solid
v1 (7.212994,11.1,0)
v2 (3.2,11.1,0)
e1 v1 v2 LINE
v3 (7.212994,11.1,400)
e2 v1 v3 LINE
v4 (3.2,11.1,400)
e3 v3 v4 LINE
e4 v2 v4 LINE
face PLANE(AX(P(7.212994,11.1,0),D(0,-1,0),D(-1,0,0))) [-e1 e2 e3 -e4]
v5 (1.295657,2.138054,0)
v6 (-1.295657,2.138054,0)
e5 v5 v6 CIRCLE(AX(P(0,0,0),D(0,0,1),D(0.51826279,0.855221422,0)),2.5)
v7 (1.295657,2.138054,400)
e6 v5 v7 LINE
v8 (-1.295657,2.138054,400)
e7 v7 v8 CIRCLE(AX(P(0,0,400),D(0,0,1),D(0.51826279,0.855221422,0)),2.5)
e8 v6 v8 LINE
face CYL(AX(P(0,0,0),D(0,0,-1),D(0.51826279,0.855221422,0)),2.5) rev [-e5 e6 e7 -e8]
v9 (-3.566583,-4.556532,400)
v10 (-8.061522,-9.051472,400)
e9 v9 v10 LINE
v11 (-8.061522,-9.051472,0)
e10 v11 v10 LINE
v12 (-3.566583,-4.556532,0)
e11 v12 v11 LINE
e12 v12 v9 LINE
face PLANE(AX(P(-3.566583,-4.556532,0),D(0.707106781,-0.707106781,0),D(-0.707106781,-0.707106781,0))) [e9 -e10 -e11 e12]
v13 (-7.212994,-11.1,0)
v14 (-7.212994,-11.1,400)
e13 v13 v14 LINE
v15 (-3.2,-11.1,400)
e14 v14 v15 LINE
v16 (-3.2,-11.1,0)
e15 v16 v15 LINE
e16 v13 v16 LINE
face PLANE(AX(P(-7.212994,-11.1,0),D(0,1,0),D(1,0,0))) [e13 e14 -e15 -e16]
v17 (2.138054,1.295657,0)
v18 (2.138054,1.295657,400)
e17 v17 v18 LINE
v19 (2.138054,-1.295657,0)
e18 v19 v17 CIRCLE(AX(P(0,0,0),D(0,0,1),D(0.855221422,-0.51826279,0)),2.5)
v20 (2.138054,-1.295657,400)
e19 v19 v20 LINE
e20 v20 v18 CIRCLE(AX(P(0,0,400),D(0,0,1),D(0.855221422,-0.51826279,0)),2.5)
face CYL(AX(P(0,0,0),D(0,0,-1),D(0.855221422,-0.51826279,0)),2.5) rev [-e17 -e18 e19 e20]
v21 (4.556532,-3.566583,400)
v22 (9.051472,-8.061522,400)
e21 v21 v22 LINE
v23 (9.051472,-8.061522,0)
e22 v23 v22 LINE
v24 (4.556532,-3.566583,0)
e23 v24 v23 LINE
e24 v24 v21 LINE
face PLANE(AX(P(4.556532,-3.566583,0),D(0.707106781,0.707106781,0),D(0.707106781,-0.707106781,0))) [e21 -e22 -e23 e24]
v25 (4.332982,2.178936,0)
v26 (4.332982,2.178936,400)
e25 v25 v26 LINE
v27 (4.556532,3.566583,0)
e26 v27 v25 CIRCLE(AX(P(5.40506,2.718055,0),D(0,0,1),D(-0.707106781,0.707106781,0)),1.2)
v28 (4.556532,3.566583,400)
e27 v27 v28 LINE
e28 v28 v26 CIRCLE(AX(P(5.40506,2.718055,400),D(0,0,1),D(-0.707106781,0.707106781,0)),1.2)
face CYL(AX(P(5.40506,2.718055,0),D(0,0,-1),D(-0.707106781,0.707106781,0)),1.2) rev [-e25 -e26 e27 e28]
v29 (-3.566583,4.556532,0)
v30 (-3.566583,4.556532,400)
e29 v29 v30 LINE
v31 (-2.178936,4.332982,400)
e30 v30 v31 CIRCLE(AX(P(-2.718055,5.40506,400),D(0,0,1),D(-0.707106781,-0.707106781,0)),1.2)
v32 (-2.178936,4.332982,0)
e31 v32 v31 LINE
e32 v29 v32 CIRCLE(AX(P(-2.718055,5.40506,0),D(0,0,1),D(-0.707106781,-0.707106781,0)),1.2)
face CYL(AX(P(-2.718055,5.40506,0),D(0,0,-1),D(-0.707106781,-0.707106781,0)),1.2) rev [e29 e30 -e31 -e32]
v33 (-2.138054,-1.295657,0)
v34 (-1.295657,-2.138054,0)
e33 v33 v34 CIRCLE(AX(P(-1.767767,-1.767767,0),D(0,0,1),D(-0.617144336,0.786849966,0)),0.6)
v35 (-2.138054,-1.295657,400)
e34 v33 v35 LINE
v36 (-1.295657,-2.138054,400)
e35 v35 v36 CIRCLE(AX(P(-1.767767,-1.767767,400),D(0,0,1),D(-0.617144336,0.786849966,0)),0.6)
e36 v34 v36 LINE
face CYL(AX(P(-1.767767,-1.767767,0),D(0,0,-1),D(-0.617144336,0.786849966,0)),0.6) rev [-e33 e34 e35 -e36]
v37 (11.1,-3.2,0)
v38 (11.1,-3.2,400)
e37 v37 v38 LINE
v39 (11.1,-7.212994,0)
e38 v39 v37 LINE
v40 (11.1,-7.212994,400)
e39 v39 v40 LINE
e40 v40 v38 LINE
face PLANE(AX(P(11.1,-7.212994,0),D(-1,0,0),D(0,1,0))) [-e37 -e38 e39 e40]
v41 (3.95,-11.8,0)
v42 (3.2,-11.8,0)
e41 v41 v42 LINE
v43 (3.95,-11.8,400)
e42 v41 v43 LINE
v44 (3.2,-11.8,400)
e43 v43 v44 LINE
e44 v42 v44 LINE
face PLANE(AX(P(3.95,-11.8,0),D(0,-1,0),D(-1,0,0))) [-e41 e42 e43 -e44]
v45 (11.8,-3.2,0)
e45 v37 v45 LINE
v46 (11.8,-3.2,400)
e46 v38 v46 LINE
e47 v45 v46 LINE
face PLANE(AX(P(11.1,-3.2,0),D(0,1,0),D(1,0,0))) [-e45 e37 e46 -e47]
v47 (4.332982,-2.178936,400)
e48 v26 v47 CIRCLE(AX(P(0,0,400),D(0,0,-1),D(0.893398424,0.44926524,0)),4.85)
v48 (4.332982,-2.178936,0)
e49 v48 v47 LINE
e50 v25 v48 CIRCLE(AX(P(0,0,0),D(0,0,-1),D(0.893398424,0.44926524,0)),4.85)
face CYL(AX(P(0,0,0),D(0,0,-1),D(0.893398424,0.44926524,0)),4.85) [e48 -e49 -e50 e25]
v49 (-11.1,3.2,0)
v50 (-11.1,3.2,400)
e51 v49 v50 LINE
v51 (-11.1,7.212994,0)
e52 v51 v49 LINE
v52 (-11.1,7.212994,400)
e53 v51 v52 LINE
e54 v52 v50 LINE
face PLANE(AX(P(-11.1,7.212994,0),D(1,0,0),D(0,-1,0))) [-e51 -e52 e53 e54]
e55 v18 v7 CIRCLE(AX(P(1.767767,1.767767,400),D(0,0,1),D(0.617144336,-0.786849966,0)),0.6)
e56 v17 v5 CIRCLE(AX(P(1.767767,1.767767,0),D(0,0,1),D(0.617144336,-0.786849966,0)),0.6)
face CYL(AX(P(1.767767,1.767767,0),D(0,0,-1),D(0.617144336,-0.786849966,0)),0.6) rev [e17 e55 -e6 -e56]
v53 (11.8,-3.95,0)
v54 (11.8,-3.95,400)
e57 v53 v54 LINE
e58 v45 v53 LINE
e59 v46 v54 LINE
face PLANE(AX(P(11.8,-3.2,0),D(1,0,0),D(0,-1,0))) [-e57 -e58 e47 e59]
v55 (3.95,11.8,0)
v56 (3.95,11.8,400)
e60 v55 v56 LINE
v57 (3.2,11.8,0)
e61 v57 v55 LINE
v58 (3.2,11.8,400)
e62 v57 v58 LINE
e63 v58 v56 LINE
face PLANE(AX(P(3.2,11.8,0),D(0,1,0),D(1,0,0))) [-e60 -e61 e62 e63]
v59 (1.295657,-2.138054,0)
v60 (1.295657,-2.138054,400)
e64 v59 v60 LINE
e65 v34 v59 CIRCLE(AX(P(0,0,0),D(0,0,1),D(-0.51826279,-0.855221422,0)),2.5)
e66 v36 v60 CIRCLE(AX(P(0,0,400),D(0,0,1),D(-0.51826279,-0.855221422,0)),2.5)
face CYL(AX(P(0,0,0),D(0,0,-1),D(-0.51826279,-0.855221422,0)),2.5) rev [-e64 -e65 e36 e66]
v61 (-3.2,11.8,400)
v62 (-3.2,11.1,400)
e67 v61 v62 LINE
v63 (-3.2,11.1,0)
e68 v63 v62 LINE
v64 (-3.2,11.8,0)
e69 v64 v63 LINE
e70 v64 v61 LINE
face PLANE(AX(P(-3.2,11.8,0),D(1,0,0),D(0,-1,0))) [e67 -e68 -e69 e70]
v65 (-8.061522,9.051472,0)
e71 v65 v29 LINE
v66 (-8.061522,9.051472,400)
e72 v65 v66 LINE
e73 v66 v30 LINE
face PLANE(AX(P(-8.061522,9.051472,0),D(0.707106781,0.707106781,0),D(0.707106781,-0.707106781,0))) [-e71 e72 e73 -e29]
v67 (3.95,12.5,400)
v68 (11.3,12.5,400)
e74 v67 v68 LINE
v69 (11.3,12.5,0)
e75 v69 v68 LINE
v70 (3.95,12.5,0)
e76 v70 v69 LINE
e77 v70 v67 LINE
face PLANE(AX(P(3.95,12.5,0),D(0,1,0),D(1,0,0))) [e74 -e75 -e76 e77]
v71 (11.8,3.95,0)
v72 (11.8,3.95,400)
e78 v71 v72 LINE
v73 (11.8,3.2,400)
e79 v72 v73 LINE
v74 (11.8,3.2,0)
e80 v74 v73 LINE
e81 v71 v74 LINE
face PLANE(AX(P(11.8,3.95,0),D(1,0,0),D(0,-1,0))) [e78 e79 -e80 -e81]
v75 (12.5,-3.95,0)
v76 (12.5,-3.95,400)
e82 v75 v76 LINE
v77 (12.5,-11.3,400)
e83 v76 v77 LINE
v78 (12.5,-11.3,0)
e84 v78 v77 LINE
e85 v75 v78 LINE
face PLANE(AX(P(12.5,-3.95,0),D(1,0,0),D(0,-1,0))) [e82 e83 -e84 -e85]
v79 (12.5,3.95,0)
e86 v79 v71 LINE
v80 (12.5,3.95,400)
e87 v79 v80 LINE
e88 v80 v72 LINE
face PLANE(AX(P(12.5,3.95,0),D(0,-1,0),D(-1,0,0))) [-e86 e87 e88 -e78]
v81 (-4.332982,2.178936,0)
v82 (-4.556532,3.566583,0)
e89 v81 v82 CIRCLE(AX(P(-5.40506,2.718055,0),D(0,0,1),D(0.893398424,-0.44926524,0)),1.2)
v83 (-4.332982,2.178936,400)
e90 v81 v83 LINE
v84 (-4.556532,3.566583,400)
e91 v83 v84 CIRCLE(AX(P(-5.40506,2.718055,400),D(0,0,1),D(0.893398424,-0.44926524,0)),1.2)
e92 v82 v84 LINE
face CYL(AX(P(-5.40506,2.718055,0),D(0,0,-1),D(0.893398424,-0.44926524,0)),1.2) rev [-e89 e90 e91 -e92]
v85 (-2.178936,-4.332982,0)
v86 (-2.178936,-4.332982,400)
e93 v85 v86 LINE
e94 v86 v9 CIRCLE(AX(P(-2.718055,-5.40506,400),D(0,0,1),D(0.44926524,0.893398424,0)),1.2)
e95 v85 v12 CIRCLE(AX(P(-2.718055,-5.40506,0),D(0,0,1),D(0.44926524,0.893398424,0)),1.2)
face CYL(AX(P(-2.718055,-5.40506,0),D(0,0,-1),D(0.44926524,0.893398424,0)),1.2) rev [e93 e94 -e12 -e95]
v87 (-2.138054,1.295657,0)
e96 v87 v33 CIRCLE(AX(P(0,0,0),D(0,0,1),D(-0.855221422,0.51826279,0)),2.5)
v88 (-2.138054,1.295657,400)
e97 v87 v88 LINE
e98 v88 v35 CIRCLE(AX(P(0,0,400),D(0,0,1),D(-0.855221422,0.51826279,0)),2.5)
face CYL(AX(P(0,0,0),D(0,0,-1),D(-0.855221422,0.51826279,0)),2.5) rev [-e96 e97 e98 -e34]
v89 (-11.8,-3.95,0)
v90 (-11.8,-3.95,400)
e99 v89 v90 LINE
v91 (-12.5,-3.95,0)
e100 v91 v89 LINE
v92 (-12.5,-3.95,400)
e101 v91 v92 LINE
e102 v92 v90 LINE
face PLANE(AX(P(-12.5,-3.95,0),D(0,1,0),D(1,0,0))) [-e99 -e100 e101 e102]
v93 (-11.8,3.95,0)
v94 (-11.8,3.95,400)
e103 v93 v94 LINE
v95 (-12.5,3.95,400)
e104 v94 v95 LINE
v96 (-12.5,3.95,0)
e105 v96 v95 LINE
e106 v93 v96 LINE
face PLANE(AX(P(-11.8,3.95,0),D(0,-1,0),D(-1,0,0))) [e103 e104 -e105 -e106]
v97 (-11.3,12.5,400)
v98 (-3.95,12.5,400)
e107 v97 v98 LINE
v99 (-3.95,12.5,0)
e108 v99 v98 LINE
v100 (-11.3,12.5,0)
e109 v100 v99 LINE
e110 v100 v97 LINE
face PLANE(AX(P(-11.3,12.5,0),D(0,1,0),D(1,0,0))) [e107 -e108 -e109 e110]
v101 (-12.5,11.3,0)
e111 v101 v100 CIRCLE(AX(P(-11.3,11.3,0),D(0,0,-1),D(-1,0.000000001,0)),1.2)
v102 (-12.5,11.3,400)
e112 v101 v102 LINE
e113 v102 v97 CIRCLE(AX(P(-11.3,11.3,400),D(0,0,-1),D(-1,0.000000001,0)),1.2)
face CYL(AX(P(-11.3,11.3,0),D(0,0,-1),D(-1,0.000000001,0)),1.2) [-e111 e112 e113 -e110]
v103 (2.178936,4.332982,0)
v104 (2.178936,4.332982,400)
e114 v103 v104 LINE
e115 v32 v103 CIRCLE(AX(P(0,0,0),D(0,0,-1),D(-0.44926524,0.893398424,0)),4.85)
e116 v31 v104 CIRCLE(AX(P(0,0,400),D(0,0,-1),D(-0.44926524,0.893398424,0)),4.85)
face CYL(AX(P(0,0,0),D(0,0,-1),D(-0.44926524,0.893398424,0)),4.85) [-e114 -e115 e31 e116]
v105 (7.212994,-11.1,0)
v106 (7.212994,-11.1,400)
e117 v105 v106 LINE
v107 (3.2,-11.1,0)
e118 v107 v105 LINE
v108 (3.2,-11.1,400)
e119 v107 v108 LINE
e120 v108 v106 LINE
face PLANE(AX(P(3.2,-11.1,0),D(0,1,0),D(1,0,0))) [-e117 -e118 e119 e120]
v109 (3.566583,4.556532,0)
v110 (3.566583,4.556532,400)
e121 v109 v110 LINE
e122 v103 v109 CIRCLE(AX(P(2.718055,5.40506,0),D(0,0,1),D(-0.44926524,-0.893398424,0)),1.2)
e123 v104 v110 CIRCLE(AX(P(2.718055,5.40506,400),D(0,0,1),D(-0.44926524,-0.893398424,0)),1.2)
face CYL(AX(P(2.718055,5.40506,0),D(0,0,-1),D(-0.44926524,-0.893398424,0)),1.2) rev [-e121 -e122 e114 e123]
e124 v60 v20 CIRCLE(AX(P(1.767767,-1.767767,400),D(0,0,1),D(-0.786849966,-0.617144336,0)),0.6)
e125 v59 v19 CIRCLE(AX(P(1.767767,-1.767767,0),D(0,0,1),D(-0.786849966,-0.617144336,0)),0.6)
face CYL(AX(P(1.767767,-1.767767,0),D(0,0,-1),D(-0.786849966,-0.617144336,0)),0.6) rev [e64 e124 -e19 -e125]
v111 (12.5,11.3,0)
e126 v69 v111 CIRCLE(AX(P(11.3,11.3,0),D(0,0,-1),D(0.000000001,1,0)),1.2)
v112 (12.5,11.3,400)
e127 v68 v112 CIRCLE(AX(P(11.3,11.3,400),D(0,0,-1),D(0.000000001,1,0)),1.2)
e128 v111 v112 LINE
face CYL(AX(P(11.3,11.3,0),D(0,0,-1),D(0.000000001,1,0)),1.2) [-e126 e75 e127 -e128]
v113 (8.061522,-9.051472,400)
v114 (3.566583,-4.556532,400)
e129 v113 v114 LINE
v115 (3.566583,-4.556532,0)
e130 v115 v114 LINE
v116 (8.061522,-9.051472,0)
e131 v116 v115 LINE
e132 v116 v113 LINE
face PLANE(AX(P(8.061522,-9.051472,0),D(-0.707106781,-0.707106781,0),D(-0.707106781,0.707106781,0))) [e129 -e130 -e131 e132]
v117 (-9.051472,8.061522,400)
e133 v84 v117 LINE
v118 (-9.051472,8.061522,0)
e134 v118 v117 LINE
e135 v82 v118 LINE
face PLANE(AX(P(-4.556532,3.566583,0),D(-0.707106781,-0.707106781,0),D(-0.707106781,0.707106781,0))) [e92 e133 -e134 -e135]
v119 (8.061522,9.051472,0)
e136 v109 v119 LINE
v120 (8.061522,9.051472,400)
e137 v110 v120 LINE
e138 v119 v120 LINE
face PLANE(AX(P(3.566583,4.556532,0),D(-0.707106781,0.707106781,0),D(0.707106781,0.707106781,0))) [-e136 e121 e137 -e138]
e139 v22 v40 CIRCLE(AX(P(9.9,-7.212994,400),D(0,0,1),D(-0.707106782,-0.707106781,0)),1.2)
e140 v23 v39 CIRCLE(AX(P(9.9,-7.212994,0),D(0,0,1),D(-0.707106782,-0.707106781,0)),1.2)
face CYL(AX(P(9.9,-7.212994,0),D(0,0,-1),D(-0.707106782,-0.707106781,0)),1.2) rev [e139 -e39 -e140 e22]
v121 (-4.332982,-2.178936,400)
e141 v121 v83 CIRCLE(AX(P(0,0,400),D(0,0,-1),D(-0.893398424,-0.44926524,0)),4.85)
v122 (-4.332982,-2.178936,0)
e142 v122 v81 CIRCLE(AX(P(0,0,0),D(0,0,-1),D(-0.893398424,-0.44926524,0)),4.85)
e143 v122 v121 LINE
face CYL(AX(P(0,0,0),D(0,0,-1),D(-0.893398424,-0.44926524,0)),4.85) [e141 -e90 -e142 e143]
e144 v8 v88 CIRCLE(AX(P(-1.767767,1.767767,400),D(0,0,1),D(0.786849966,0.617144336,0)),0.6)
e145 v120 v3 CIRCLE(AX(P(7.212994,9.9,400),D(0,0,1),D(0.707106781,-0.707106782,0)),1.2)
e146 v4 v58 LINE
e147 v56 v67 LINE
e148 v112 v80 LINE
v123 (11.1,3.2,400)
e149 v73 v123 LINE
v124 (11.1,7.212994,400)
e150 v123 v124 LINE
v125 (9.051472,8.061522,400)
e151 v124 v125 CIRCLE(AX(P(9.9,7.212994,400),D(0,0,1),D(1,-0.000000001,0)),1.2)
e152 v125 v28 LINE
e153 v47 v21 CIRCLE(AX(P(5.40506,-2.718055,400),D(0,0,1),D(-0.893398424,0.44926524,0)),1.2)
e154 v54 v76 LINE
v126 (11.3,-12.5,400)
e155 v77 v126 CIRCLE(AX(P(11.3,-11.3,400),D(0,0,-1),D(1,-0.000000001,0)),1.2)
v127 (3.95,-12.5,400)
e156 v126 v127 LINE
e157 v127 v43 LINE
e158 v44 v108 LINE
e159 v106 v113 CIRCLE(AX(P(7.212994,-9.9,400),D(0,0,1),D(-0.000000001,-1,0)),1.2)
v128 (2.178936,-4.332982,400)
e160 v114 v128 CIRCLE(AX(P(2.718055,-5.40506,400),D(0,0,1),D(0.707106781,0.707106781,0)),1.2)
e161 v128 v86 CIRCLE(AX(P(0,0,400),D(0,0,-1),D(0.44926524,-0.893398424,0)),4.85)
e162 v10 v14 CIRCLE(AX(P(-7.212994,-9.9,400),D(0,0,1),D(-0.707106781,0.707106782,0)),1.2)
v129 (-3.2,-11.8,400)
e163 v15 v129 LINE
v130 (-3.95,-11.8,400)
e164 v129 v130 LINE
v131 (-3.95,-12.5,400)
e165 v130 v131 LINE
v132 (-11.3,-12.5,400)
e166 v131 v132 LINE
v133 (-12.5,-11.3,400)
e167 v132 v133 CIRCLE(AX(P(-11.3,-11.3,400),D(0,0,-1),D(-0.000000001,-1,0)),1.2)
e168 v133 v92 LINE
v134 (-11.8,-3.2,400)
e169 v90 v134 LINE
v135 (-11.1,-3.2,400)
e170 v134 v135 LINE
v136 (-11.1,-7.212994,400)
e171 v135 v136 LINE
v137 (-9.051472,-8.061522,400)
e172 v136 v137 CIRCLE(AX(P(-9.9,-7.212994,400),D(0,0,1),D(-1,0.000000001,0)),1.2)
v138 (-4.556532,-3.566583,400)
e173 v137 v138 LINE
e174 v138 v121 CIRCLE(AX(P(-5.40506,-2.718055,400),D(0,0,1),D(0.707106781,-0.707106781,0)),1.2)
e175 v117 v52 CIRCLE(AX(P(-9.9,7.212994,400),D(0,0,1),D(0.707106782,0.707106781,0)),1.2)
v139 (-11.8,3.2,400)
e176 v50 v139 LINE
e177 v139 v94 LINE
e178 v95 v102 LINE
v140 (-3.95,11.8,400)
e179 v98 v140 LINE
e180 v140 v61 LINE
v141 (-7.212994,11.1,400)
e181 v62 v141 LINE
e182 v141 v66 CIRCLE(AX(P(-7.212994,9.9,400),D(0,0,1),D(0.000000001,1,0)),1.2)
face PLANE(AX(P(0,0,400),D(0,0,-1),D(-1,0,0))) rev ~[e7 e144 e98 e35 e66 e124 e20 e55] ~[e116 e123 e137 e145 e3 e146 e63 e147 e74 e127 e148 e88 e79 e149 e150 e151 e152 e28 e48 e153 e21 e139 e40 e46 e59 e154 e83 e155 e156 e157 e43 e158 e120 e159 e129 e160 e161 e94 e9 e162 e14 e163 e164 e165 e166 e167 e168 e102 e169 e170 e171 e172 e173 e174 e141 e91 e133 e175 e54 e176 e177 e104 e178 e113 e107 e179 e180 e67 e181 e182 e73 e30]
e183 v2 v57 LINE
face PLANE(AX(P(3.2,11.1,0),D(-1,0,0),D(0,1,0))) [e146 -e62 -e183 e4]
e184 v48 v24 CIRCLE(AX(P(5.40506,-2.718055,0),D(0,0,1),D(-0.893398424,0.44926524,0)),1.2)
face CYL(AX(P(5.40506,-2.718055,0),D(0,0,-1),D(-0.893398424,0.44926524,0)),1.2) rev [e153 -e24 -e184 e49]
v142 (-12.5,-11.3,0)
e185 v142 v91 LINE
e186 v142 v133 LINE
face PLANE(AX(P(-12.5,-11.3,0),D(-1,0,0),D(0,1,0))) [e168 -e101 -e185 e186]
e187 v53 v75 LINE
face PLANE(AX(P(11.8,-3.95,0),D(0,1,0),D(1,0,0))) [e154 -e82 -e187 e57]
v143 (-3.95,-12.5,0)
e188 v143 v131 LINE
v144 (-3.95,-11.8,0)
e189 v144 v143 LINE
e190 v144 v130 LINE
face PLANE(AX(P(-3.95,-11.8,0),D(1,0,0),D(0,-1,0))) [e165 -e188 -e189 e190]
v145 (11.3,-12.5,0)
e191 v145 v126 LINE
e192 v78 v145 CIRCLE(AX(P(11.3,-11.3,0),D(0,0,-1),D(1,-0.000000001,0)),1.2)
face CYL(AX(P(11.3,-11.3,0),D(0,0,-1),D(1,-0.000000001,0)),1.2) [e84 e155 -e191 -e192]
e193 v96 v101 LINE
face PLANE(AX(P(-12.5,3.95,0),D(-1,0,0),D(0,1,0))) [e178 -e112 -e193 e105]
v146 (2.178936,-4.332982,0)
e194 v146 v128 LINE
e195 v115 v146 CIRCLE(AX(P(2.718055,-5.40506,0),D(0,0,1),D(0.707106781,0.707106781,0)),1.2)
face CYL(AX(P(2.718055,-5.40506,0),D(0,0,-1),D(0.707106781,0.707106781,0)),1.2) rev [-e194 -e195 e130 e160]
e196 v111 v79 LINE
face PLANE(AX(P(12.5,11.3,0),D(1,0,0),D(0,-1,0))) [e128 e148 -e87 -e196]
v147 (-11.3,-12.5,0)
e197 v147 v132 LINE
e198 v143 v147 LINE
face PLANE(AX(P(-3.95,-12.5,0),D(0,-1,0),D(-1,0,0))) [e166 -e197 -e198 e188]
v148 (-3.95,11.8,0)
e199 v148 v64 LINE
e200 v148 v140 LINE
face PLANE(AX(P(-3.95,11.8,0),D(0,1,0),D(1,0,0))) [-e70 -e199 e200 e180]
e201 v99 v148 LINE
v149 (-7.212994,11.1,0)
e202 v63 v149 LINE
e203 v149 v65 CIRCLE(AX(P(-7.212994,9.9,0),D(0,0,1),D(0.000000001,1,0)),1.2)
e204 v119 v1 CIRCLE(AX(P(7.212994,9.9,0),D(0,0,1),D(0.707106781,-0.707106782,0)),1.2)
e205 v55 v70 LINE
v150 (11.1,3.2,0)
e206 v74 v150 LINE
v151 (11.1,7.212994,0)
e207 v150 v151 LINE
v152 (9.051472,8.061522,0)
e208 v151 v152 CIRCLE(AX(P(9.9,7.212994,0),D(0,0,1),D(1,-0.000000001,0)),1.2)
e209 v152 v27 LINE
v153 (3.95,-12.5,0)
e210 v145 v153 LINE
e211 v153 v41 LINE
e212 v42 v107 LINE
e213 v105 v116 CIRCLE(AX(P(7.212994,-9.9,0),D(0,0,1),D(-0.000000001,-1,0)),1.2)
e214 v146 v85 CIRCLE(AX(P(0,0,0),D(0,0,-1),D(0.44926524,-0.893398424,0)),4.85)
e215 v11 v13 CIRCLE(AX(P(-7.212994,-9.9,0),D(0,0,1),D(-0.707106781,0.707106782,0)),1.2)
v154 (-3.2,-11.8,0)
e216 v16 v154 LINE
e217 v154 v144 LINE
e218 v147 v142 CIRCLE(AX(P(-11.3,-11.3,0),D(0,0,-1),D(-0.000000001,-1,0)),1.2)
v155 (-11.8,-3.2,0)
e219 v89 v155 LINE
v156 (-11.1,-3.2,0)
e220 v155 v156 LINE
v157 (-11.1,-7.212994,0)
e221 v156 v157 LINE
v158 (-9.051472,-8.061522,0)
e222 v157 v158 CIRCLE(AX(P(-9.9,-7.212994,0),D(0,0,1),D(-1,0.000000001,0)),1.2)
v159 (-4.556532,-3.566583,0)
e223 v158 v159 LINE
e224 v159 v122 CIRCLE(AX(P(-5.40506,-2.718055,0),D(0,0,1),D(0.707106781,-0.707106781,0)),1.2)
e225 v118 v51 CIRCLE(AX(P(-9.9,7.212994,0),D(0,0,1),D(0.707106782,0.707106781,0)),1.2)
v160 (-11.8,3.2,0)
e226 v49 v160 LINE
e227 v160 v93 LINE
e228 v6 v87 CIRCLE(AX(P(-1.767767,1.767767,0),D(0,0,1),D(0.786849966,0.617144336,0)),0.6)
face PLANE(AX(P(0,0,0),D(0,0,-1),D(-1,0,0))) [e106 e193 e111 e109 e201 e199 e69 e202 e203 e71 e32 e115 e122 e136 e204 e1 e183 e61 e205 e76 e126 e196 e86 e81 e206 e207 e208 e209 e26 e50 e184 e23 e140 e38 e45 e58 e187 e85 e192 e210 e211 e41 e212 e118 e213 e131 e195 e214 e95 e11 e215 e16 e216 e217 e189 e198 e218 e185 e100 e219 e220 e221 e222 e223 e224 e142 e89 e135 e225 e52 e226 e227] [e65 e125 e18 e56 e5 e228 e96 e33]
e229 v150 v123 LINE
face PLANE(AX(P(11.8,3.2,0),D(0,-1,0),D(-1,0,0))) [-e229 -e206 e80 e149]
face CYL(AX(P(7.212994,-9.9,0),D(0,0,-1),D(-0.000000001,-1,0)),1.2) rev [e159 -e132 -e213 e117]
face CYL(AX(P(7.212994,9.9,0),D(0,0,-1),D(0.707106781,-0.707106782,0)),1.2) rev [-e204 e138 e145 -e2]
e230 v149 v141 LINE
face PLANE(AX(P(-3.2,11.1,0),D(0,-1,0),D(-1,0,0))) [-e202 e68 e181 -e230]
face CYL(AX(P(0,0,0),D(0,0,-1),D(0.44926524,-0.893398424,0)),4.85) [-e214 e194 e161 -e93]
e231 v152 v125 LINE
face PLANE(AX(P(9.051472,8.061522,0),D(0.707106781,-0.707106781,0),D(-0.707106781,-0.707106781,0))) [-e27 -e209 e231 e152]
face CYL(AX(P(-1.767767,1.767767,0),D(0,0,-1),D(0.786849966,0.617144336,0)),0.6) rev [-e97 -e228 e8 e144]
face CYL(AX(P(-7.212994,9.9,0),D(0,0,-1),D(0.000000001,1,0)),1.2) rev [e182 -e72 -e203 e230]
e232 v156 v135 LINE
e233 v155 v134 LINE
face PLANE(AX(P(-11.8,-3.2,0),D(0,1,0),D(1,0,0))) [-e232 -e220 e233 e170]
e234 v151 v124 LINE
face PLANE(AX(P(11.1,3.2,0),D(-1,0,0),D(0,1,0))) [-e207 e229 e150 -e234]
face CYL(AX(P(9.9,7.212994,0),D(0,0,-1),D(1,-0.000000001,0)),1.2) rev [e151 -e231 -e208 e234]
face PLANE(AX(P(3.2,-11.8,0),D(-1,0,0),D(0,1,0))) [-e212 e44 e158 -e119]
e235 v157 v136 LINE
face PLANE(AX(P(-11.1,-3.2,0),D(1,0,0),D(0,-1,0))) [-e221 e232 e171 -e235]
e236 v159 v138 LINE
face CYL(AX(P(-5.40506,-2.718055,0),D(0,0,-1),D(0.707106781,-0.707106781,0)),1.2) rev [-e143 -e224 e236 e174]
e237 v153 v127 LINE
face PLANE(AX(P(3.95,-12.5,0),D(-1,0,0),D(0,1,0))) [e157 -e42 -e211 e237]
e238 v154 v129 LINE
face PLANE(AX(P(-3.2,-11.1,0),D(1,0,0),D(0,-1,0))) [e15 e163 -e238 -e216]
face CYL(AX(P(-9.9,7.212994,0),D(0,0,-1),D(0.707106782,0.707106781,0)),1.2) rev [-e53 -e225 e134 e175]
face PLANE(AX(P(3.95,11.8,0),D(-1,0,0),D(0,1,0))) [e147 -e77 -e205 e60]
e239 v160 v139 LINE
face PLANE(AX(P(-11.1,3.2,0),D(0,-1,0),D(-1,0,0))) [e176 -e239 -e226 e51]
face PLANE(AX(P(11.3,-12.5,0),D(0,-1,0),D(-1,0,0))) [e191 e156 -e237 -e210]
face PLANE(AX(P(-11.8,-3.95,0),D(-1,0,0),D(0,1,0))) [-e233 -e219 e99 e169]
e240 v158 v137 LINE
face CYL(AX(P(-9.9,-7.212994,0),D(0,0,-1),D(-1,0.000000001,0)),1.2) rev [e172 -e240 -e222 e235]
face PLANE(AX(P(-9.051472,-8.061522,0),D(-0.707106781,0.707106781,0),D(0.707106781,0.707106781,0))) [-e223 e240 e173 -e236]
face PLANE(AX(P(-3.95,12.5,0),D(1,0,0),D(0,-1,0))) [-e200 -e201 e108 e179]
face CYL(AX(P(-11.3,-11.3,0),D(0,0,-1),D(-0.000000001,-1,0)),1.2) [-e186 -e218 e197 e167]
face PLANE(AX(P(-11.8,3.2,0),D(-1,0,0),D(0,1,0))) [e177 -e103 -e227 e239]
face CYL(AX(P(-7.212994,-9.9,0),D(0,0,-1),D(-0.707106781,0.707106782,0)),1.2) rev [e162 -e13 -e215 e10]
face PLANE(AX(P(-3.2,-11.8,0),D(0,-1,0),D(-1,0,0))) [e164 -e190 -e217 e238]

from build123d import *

# Parameters (mm, degrees)
Y_KSEKLIK_EKSTR_ZYON1_DEPTH = 400


with BuildPart() as part:
    # Çizim1 → Yükseklik-Ekstrüzyon1 (new body)
    with BuildSketch(Plane.XY):
        with BuildLine():
            Line((3.95, 12.5), (11.3, 12.5))
            ThreePointArc((11.3, 12.5), (12.148528137, 12.148528137), (12.5, 11.3))
            Line((12.5, 11.3), (12.5, 3.95))
            Line((12.5, 3.95), (11.8, 3.95))
            Line((11.8, 3.95), (11.8, 3.2))
            Line((11.8, 3.2), (11.1, 3.2))
            Line((11.1, 3.2), (11.1, 7.212994231))
            ThreePointArc((11.1, 7.212994231), (10.359220119, 8.321649671), (9.051471863, 8.061522369))
            Line((9.051471863, 8.061522369), (4.55653233, 3.566582836))
            ThreePointArc((4.55653233, 3.566582836), (4.220335715, 2.90891397), (4.332982358, 2.178936411))
            ThreePointArc((4.332982358, 2.178936411), (4.85, 0), (4.332982358, -2.178936411))
            ThreePointArc((4.332982358, -2.178936411), (4.220335715, -2.90891397), (4.55653233, -3.566582836))
            Line((4.55653233, -3.566582836), (9.051471863, -8.061522369))
            ThreePointArc((9.051471863, -8.061522369), (10.359220119, -8.321649671), (11.1, -7.212994231))
            Line((11.1, -7.212994231), (11.1, -3.2))
            Line((11.1, -3.2), (11.8, -3.2))
            Line((11.8, -3.2), (11.8, -3.95))
            Line((11.8, -3.95), (12.5, -3.95))
            Line((12.5, -3.95), (12.5, -11.3))
            ThreePointArc((12.5, -11.3), (12.148528137, -12.148528137), (11.3, -12.5))
            Line((11.3, -12.5), (3.95, -12.5))
            Line((3.95, -12.5), (3.95, -11.8))
            Line((3.95, -11.8), (3.2, -11.8))
            Line((3.2, -11.8), (3.2, -11.1))
            Line((3.2, -11.1), (7.212994231, -11.1))
            ThreePointArc((7.212994231, -11.1), (8.321649671, -10.359220119), (8.061522369, -9.051471863))
            Line((8.061522369, -9.051471863), (3.566582836, -4.55653233))
            ThreePointArc((3.566582836, -4.55653233), (2.90891397, -4.220335715), (2.178936411, -4.332982358))
            ThreePointArc((2.178936411, -4.332982358), (0, -4.85), (-2.178936411, -4.332982358))
            ThreePointArc((-2.178936411, -4.332982358), (-2.90891397, -4.220335715), (-3.566582836, -4.55653233))
            Line((-3.566582836, -4.55653233), (-8.061522369, -9.051471863))
            ThreePointArc((-8.061522369, -9.051471863), (-8.321649671, -10.359220119), (-7.212994231, -11.1))
            Line((-7.212994231, -11.1), (-3.2, -11.1))
            Line((-3.2, -11.1), (-3.2, -11.8))
            Line((-3.2, -11.8), (-3.95, -11.8))
            Line((-3.95, -11.8), (-3.95, -12.5))
            Line((-3.95, -12.5), (-11.3, -12.5))
            ThreePointArc((-11.3, -12.5), (-12.148528137, -12.148528137), (-12.5, -11.3))
            Line((-12.5, -11.3), (-12.5, -3.95))
            Line((-12.5, -3.95), (-11.8, -3.95))
            Line((-11.8, -3.95), (-11.8, -3.2))
            Line((-11.8, -3.2), (-11.1, -3.2))
            Line((-11.1, -3.2), (-11.1, -7.212994231))
            ThreePointArc((-11.1, -7.212994231), (-10.359220119, -8.321649671), (-9.051471863, -8.061522369))
            Line((-9.051471863, -8.061522369), (-4.55653233, -3.566582836))
            ThreePointArc((-4.55653233, -3.566582836), (-4.220335715, -2.90891397), (-4.332982358, -2.178936411))
            ThreePointArc((-4.332982358, -2.178936411), (-4.85, 0), (-4.332982358, 2.178936411))
            ThreePointArc((-4.332982358, 2.178936411), (-4.220335715, 2.90891397), (-4.55653233, 3.566582836))
            Line((-4.55653233, 3.566582836), (-9.051471863, 8.061522369))
            ThreePointArc((-9.051471863, 8.061522369), (-10.359220119, 8.321649671), (-11.1, 7.212994231))
            Line((-11.1, 7.212994231), (-11.1, 3.2))
            Line((-11.1, 3.2), (-11.8, 3.2))
            Line((-11.8, 3.2), (-11.8, 3.95))
            Line((-11.8, 3.95), (-12.5, 3.95))
            Line((-12.5, 3.95), (-12.5, 11.3))
            ThreePointArc((-12.5, 11.3), (-12.148528137, 12.148528137), (-11.3, 12.5))
            Line((-11.3, 12.5), (-3.95, 12.5))
            Line((-3.95, 12.5), (-3.95, 11.8))
            Line((-3.95, 11.8), (-3.2, 11.8))
            Line((-3.2, 11.8), (-3.2, 11.1))
            Line((-3.2, 11.1), (-7.212994231, 11.1))
            ThreePointArc((-7.212994231, 11.1), (-8.321649671, 10.359220119), (-8.061522369, 9.051471863))
            Line((-8.061522369, 9.051471863), (-3.566582836, 4.55653233))
            ThreePointArc((-3.566582836, 4.55653233), (-2.90891397, 4.220335715), (-2.178936411, 4.332982358))
            ThreePointArc((-2.178936411, 4.332982358), (0, 4.85), (2.178936411, 4.332982358))
            ThreePointArc((2.178936411, 4.332982358), (2.90891397, 4.220335715), (3.566582836, 4.55653233))
            Line((3.566582836, 4.55653233), (8.061522369, 9.051471863))
            ThreePointArc((8.061522369, 9.051471863), (8.321649671, 10.359220119), (7.212994231, 11.1))
            Line((7.212994231, 11.1), (3.2, 11.1))
            Line((3.2, 11.1), (3.2, 11.8))
            Line((3.2, 11.8), (3.95, 11.8))
            Line((3.95, 11.8), (3.95, 12.5))
        make_face()
        with BuildLine():
            ThreePointArc((1.295656974, 2.138053555), (0, 2.5), (-1.295656974, 2.138053555))
            ThreePointArc((-1.295656974, 2.138053555), (-2.192031022, 2.192031022), (-2.138053555, 1.295656974))
            ThreePointArc((-2.138053555, 1.295656974), (-2.5, 0), (-2.138053555, -1.295656974))
            ThreePointArc((-2.138053555, -1.295656974), (-2.192031022, -2.192031022), (-1.295656974, -2.138053555))
            ThreePointArc((-1.295656974, -2.138053555), (0, -2.5), (1.295656974, -2.138053555))
            ThreePointArc((1.295656974, -2.138053555), (2.192031022, -2.192031022), (2.138053555, -1.295656974))
            ThreePointArc((2.138053555, -1.295656974), (2.5, 0), (2.138053555, 1.295656974))
            ThreePointArc((2.138053555, 1.295656974), (2.192031022, 2.192031022), (1.295656974, 2.138053555))
        make_face(mode=Mode.SUBTRACT)
    extrude(amount=Y_KSEKLIK_EKSTR_ZYON1_DEPTH)


solid = part.part
